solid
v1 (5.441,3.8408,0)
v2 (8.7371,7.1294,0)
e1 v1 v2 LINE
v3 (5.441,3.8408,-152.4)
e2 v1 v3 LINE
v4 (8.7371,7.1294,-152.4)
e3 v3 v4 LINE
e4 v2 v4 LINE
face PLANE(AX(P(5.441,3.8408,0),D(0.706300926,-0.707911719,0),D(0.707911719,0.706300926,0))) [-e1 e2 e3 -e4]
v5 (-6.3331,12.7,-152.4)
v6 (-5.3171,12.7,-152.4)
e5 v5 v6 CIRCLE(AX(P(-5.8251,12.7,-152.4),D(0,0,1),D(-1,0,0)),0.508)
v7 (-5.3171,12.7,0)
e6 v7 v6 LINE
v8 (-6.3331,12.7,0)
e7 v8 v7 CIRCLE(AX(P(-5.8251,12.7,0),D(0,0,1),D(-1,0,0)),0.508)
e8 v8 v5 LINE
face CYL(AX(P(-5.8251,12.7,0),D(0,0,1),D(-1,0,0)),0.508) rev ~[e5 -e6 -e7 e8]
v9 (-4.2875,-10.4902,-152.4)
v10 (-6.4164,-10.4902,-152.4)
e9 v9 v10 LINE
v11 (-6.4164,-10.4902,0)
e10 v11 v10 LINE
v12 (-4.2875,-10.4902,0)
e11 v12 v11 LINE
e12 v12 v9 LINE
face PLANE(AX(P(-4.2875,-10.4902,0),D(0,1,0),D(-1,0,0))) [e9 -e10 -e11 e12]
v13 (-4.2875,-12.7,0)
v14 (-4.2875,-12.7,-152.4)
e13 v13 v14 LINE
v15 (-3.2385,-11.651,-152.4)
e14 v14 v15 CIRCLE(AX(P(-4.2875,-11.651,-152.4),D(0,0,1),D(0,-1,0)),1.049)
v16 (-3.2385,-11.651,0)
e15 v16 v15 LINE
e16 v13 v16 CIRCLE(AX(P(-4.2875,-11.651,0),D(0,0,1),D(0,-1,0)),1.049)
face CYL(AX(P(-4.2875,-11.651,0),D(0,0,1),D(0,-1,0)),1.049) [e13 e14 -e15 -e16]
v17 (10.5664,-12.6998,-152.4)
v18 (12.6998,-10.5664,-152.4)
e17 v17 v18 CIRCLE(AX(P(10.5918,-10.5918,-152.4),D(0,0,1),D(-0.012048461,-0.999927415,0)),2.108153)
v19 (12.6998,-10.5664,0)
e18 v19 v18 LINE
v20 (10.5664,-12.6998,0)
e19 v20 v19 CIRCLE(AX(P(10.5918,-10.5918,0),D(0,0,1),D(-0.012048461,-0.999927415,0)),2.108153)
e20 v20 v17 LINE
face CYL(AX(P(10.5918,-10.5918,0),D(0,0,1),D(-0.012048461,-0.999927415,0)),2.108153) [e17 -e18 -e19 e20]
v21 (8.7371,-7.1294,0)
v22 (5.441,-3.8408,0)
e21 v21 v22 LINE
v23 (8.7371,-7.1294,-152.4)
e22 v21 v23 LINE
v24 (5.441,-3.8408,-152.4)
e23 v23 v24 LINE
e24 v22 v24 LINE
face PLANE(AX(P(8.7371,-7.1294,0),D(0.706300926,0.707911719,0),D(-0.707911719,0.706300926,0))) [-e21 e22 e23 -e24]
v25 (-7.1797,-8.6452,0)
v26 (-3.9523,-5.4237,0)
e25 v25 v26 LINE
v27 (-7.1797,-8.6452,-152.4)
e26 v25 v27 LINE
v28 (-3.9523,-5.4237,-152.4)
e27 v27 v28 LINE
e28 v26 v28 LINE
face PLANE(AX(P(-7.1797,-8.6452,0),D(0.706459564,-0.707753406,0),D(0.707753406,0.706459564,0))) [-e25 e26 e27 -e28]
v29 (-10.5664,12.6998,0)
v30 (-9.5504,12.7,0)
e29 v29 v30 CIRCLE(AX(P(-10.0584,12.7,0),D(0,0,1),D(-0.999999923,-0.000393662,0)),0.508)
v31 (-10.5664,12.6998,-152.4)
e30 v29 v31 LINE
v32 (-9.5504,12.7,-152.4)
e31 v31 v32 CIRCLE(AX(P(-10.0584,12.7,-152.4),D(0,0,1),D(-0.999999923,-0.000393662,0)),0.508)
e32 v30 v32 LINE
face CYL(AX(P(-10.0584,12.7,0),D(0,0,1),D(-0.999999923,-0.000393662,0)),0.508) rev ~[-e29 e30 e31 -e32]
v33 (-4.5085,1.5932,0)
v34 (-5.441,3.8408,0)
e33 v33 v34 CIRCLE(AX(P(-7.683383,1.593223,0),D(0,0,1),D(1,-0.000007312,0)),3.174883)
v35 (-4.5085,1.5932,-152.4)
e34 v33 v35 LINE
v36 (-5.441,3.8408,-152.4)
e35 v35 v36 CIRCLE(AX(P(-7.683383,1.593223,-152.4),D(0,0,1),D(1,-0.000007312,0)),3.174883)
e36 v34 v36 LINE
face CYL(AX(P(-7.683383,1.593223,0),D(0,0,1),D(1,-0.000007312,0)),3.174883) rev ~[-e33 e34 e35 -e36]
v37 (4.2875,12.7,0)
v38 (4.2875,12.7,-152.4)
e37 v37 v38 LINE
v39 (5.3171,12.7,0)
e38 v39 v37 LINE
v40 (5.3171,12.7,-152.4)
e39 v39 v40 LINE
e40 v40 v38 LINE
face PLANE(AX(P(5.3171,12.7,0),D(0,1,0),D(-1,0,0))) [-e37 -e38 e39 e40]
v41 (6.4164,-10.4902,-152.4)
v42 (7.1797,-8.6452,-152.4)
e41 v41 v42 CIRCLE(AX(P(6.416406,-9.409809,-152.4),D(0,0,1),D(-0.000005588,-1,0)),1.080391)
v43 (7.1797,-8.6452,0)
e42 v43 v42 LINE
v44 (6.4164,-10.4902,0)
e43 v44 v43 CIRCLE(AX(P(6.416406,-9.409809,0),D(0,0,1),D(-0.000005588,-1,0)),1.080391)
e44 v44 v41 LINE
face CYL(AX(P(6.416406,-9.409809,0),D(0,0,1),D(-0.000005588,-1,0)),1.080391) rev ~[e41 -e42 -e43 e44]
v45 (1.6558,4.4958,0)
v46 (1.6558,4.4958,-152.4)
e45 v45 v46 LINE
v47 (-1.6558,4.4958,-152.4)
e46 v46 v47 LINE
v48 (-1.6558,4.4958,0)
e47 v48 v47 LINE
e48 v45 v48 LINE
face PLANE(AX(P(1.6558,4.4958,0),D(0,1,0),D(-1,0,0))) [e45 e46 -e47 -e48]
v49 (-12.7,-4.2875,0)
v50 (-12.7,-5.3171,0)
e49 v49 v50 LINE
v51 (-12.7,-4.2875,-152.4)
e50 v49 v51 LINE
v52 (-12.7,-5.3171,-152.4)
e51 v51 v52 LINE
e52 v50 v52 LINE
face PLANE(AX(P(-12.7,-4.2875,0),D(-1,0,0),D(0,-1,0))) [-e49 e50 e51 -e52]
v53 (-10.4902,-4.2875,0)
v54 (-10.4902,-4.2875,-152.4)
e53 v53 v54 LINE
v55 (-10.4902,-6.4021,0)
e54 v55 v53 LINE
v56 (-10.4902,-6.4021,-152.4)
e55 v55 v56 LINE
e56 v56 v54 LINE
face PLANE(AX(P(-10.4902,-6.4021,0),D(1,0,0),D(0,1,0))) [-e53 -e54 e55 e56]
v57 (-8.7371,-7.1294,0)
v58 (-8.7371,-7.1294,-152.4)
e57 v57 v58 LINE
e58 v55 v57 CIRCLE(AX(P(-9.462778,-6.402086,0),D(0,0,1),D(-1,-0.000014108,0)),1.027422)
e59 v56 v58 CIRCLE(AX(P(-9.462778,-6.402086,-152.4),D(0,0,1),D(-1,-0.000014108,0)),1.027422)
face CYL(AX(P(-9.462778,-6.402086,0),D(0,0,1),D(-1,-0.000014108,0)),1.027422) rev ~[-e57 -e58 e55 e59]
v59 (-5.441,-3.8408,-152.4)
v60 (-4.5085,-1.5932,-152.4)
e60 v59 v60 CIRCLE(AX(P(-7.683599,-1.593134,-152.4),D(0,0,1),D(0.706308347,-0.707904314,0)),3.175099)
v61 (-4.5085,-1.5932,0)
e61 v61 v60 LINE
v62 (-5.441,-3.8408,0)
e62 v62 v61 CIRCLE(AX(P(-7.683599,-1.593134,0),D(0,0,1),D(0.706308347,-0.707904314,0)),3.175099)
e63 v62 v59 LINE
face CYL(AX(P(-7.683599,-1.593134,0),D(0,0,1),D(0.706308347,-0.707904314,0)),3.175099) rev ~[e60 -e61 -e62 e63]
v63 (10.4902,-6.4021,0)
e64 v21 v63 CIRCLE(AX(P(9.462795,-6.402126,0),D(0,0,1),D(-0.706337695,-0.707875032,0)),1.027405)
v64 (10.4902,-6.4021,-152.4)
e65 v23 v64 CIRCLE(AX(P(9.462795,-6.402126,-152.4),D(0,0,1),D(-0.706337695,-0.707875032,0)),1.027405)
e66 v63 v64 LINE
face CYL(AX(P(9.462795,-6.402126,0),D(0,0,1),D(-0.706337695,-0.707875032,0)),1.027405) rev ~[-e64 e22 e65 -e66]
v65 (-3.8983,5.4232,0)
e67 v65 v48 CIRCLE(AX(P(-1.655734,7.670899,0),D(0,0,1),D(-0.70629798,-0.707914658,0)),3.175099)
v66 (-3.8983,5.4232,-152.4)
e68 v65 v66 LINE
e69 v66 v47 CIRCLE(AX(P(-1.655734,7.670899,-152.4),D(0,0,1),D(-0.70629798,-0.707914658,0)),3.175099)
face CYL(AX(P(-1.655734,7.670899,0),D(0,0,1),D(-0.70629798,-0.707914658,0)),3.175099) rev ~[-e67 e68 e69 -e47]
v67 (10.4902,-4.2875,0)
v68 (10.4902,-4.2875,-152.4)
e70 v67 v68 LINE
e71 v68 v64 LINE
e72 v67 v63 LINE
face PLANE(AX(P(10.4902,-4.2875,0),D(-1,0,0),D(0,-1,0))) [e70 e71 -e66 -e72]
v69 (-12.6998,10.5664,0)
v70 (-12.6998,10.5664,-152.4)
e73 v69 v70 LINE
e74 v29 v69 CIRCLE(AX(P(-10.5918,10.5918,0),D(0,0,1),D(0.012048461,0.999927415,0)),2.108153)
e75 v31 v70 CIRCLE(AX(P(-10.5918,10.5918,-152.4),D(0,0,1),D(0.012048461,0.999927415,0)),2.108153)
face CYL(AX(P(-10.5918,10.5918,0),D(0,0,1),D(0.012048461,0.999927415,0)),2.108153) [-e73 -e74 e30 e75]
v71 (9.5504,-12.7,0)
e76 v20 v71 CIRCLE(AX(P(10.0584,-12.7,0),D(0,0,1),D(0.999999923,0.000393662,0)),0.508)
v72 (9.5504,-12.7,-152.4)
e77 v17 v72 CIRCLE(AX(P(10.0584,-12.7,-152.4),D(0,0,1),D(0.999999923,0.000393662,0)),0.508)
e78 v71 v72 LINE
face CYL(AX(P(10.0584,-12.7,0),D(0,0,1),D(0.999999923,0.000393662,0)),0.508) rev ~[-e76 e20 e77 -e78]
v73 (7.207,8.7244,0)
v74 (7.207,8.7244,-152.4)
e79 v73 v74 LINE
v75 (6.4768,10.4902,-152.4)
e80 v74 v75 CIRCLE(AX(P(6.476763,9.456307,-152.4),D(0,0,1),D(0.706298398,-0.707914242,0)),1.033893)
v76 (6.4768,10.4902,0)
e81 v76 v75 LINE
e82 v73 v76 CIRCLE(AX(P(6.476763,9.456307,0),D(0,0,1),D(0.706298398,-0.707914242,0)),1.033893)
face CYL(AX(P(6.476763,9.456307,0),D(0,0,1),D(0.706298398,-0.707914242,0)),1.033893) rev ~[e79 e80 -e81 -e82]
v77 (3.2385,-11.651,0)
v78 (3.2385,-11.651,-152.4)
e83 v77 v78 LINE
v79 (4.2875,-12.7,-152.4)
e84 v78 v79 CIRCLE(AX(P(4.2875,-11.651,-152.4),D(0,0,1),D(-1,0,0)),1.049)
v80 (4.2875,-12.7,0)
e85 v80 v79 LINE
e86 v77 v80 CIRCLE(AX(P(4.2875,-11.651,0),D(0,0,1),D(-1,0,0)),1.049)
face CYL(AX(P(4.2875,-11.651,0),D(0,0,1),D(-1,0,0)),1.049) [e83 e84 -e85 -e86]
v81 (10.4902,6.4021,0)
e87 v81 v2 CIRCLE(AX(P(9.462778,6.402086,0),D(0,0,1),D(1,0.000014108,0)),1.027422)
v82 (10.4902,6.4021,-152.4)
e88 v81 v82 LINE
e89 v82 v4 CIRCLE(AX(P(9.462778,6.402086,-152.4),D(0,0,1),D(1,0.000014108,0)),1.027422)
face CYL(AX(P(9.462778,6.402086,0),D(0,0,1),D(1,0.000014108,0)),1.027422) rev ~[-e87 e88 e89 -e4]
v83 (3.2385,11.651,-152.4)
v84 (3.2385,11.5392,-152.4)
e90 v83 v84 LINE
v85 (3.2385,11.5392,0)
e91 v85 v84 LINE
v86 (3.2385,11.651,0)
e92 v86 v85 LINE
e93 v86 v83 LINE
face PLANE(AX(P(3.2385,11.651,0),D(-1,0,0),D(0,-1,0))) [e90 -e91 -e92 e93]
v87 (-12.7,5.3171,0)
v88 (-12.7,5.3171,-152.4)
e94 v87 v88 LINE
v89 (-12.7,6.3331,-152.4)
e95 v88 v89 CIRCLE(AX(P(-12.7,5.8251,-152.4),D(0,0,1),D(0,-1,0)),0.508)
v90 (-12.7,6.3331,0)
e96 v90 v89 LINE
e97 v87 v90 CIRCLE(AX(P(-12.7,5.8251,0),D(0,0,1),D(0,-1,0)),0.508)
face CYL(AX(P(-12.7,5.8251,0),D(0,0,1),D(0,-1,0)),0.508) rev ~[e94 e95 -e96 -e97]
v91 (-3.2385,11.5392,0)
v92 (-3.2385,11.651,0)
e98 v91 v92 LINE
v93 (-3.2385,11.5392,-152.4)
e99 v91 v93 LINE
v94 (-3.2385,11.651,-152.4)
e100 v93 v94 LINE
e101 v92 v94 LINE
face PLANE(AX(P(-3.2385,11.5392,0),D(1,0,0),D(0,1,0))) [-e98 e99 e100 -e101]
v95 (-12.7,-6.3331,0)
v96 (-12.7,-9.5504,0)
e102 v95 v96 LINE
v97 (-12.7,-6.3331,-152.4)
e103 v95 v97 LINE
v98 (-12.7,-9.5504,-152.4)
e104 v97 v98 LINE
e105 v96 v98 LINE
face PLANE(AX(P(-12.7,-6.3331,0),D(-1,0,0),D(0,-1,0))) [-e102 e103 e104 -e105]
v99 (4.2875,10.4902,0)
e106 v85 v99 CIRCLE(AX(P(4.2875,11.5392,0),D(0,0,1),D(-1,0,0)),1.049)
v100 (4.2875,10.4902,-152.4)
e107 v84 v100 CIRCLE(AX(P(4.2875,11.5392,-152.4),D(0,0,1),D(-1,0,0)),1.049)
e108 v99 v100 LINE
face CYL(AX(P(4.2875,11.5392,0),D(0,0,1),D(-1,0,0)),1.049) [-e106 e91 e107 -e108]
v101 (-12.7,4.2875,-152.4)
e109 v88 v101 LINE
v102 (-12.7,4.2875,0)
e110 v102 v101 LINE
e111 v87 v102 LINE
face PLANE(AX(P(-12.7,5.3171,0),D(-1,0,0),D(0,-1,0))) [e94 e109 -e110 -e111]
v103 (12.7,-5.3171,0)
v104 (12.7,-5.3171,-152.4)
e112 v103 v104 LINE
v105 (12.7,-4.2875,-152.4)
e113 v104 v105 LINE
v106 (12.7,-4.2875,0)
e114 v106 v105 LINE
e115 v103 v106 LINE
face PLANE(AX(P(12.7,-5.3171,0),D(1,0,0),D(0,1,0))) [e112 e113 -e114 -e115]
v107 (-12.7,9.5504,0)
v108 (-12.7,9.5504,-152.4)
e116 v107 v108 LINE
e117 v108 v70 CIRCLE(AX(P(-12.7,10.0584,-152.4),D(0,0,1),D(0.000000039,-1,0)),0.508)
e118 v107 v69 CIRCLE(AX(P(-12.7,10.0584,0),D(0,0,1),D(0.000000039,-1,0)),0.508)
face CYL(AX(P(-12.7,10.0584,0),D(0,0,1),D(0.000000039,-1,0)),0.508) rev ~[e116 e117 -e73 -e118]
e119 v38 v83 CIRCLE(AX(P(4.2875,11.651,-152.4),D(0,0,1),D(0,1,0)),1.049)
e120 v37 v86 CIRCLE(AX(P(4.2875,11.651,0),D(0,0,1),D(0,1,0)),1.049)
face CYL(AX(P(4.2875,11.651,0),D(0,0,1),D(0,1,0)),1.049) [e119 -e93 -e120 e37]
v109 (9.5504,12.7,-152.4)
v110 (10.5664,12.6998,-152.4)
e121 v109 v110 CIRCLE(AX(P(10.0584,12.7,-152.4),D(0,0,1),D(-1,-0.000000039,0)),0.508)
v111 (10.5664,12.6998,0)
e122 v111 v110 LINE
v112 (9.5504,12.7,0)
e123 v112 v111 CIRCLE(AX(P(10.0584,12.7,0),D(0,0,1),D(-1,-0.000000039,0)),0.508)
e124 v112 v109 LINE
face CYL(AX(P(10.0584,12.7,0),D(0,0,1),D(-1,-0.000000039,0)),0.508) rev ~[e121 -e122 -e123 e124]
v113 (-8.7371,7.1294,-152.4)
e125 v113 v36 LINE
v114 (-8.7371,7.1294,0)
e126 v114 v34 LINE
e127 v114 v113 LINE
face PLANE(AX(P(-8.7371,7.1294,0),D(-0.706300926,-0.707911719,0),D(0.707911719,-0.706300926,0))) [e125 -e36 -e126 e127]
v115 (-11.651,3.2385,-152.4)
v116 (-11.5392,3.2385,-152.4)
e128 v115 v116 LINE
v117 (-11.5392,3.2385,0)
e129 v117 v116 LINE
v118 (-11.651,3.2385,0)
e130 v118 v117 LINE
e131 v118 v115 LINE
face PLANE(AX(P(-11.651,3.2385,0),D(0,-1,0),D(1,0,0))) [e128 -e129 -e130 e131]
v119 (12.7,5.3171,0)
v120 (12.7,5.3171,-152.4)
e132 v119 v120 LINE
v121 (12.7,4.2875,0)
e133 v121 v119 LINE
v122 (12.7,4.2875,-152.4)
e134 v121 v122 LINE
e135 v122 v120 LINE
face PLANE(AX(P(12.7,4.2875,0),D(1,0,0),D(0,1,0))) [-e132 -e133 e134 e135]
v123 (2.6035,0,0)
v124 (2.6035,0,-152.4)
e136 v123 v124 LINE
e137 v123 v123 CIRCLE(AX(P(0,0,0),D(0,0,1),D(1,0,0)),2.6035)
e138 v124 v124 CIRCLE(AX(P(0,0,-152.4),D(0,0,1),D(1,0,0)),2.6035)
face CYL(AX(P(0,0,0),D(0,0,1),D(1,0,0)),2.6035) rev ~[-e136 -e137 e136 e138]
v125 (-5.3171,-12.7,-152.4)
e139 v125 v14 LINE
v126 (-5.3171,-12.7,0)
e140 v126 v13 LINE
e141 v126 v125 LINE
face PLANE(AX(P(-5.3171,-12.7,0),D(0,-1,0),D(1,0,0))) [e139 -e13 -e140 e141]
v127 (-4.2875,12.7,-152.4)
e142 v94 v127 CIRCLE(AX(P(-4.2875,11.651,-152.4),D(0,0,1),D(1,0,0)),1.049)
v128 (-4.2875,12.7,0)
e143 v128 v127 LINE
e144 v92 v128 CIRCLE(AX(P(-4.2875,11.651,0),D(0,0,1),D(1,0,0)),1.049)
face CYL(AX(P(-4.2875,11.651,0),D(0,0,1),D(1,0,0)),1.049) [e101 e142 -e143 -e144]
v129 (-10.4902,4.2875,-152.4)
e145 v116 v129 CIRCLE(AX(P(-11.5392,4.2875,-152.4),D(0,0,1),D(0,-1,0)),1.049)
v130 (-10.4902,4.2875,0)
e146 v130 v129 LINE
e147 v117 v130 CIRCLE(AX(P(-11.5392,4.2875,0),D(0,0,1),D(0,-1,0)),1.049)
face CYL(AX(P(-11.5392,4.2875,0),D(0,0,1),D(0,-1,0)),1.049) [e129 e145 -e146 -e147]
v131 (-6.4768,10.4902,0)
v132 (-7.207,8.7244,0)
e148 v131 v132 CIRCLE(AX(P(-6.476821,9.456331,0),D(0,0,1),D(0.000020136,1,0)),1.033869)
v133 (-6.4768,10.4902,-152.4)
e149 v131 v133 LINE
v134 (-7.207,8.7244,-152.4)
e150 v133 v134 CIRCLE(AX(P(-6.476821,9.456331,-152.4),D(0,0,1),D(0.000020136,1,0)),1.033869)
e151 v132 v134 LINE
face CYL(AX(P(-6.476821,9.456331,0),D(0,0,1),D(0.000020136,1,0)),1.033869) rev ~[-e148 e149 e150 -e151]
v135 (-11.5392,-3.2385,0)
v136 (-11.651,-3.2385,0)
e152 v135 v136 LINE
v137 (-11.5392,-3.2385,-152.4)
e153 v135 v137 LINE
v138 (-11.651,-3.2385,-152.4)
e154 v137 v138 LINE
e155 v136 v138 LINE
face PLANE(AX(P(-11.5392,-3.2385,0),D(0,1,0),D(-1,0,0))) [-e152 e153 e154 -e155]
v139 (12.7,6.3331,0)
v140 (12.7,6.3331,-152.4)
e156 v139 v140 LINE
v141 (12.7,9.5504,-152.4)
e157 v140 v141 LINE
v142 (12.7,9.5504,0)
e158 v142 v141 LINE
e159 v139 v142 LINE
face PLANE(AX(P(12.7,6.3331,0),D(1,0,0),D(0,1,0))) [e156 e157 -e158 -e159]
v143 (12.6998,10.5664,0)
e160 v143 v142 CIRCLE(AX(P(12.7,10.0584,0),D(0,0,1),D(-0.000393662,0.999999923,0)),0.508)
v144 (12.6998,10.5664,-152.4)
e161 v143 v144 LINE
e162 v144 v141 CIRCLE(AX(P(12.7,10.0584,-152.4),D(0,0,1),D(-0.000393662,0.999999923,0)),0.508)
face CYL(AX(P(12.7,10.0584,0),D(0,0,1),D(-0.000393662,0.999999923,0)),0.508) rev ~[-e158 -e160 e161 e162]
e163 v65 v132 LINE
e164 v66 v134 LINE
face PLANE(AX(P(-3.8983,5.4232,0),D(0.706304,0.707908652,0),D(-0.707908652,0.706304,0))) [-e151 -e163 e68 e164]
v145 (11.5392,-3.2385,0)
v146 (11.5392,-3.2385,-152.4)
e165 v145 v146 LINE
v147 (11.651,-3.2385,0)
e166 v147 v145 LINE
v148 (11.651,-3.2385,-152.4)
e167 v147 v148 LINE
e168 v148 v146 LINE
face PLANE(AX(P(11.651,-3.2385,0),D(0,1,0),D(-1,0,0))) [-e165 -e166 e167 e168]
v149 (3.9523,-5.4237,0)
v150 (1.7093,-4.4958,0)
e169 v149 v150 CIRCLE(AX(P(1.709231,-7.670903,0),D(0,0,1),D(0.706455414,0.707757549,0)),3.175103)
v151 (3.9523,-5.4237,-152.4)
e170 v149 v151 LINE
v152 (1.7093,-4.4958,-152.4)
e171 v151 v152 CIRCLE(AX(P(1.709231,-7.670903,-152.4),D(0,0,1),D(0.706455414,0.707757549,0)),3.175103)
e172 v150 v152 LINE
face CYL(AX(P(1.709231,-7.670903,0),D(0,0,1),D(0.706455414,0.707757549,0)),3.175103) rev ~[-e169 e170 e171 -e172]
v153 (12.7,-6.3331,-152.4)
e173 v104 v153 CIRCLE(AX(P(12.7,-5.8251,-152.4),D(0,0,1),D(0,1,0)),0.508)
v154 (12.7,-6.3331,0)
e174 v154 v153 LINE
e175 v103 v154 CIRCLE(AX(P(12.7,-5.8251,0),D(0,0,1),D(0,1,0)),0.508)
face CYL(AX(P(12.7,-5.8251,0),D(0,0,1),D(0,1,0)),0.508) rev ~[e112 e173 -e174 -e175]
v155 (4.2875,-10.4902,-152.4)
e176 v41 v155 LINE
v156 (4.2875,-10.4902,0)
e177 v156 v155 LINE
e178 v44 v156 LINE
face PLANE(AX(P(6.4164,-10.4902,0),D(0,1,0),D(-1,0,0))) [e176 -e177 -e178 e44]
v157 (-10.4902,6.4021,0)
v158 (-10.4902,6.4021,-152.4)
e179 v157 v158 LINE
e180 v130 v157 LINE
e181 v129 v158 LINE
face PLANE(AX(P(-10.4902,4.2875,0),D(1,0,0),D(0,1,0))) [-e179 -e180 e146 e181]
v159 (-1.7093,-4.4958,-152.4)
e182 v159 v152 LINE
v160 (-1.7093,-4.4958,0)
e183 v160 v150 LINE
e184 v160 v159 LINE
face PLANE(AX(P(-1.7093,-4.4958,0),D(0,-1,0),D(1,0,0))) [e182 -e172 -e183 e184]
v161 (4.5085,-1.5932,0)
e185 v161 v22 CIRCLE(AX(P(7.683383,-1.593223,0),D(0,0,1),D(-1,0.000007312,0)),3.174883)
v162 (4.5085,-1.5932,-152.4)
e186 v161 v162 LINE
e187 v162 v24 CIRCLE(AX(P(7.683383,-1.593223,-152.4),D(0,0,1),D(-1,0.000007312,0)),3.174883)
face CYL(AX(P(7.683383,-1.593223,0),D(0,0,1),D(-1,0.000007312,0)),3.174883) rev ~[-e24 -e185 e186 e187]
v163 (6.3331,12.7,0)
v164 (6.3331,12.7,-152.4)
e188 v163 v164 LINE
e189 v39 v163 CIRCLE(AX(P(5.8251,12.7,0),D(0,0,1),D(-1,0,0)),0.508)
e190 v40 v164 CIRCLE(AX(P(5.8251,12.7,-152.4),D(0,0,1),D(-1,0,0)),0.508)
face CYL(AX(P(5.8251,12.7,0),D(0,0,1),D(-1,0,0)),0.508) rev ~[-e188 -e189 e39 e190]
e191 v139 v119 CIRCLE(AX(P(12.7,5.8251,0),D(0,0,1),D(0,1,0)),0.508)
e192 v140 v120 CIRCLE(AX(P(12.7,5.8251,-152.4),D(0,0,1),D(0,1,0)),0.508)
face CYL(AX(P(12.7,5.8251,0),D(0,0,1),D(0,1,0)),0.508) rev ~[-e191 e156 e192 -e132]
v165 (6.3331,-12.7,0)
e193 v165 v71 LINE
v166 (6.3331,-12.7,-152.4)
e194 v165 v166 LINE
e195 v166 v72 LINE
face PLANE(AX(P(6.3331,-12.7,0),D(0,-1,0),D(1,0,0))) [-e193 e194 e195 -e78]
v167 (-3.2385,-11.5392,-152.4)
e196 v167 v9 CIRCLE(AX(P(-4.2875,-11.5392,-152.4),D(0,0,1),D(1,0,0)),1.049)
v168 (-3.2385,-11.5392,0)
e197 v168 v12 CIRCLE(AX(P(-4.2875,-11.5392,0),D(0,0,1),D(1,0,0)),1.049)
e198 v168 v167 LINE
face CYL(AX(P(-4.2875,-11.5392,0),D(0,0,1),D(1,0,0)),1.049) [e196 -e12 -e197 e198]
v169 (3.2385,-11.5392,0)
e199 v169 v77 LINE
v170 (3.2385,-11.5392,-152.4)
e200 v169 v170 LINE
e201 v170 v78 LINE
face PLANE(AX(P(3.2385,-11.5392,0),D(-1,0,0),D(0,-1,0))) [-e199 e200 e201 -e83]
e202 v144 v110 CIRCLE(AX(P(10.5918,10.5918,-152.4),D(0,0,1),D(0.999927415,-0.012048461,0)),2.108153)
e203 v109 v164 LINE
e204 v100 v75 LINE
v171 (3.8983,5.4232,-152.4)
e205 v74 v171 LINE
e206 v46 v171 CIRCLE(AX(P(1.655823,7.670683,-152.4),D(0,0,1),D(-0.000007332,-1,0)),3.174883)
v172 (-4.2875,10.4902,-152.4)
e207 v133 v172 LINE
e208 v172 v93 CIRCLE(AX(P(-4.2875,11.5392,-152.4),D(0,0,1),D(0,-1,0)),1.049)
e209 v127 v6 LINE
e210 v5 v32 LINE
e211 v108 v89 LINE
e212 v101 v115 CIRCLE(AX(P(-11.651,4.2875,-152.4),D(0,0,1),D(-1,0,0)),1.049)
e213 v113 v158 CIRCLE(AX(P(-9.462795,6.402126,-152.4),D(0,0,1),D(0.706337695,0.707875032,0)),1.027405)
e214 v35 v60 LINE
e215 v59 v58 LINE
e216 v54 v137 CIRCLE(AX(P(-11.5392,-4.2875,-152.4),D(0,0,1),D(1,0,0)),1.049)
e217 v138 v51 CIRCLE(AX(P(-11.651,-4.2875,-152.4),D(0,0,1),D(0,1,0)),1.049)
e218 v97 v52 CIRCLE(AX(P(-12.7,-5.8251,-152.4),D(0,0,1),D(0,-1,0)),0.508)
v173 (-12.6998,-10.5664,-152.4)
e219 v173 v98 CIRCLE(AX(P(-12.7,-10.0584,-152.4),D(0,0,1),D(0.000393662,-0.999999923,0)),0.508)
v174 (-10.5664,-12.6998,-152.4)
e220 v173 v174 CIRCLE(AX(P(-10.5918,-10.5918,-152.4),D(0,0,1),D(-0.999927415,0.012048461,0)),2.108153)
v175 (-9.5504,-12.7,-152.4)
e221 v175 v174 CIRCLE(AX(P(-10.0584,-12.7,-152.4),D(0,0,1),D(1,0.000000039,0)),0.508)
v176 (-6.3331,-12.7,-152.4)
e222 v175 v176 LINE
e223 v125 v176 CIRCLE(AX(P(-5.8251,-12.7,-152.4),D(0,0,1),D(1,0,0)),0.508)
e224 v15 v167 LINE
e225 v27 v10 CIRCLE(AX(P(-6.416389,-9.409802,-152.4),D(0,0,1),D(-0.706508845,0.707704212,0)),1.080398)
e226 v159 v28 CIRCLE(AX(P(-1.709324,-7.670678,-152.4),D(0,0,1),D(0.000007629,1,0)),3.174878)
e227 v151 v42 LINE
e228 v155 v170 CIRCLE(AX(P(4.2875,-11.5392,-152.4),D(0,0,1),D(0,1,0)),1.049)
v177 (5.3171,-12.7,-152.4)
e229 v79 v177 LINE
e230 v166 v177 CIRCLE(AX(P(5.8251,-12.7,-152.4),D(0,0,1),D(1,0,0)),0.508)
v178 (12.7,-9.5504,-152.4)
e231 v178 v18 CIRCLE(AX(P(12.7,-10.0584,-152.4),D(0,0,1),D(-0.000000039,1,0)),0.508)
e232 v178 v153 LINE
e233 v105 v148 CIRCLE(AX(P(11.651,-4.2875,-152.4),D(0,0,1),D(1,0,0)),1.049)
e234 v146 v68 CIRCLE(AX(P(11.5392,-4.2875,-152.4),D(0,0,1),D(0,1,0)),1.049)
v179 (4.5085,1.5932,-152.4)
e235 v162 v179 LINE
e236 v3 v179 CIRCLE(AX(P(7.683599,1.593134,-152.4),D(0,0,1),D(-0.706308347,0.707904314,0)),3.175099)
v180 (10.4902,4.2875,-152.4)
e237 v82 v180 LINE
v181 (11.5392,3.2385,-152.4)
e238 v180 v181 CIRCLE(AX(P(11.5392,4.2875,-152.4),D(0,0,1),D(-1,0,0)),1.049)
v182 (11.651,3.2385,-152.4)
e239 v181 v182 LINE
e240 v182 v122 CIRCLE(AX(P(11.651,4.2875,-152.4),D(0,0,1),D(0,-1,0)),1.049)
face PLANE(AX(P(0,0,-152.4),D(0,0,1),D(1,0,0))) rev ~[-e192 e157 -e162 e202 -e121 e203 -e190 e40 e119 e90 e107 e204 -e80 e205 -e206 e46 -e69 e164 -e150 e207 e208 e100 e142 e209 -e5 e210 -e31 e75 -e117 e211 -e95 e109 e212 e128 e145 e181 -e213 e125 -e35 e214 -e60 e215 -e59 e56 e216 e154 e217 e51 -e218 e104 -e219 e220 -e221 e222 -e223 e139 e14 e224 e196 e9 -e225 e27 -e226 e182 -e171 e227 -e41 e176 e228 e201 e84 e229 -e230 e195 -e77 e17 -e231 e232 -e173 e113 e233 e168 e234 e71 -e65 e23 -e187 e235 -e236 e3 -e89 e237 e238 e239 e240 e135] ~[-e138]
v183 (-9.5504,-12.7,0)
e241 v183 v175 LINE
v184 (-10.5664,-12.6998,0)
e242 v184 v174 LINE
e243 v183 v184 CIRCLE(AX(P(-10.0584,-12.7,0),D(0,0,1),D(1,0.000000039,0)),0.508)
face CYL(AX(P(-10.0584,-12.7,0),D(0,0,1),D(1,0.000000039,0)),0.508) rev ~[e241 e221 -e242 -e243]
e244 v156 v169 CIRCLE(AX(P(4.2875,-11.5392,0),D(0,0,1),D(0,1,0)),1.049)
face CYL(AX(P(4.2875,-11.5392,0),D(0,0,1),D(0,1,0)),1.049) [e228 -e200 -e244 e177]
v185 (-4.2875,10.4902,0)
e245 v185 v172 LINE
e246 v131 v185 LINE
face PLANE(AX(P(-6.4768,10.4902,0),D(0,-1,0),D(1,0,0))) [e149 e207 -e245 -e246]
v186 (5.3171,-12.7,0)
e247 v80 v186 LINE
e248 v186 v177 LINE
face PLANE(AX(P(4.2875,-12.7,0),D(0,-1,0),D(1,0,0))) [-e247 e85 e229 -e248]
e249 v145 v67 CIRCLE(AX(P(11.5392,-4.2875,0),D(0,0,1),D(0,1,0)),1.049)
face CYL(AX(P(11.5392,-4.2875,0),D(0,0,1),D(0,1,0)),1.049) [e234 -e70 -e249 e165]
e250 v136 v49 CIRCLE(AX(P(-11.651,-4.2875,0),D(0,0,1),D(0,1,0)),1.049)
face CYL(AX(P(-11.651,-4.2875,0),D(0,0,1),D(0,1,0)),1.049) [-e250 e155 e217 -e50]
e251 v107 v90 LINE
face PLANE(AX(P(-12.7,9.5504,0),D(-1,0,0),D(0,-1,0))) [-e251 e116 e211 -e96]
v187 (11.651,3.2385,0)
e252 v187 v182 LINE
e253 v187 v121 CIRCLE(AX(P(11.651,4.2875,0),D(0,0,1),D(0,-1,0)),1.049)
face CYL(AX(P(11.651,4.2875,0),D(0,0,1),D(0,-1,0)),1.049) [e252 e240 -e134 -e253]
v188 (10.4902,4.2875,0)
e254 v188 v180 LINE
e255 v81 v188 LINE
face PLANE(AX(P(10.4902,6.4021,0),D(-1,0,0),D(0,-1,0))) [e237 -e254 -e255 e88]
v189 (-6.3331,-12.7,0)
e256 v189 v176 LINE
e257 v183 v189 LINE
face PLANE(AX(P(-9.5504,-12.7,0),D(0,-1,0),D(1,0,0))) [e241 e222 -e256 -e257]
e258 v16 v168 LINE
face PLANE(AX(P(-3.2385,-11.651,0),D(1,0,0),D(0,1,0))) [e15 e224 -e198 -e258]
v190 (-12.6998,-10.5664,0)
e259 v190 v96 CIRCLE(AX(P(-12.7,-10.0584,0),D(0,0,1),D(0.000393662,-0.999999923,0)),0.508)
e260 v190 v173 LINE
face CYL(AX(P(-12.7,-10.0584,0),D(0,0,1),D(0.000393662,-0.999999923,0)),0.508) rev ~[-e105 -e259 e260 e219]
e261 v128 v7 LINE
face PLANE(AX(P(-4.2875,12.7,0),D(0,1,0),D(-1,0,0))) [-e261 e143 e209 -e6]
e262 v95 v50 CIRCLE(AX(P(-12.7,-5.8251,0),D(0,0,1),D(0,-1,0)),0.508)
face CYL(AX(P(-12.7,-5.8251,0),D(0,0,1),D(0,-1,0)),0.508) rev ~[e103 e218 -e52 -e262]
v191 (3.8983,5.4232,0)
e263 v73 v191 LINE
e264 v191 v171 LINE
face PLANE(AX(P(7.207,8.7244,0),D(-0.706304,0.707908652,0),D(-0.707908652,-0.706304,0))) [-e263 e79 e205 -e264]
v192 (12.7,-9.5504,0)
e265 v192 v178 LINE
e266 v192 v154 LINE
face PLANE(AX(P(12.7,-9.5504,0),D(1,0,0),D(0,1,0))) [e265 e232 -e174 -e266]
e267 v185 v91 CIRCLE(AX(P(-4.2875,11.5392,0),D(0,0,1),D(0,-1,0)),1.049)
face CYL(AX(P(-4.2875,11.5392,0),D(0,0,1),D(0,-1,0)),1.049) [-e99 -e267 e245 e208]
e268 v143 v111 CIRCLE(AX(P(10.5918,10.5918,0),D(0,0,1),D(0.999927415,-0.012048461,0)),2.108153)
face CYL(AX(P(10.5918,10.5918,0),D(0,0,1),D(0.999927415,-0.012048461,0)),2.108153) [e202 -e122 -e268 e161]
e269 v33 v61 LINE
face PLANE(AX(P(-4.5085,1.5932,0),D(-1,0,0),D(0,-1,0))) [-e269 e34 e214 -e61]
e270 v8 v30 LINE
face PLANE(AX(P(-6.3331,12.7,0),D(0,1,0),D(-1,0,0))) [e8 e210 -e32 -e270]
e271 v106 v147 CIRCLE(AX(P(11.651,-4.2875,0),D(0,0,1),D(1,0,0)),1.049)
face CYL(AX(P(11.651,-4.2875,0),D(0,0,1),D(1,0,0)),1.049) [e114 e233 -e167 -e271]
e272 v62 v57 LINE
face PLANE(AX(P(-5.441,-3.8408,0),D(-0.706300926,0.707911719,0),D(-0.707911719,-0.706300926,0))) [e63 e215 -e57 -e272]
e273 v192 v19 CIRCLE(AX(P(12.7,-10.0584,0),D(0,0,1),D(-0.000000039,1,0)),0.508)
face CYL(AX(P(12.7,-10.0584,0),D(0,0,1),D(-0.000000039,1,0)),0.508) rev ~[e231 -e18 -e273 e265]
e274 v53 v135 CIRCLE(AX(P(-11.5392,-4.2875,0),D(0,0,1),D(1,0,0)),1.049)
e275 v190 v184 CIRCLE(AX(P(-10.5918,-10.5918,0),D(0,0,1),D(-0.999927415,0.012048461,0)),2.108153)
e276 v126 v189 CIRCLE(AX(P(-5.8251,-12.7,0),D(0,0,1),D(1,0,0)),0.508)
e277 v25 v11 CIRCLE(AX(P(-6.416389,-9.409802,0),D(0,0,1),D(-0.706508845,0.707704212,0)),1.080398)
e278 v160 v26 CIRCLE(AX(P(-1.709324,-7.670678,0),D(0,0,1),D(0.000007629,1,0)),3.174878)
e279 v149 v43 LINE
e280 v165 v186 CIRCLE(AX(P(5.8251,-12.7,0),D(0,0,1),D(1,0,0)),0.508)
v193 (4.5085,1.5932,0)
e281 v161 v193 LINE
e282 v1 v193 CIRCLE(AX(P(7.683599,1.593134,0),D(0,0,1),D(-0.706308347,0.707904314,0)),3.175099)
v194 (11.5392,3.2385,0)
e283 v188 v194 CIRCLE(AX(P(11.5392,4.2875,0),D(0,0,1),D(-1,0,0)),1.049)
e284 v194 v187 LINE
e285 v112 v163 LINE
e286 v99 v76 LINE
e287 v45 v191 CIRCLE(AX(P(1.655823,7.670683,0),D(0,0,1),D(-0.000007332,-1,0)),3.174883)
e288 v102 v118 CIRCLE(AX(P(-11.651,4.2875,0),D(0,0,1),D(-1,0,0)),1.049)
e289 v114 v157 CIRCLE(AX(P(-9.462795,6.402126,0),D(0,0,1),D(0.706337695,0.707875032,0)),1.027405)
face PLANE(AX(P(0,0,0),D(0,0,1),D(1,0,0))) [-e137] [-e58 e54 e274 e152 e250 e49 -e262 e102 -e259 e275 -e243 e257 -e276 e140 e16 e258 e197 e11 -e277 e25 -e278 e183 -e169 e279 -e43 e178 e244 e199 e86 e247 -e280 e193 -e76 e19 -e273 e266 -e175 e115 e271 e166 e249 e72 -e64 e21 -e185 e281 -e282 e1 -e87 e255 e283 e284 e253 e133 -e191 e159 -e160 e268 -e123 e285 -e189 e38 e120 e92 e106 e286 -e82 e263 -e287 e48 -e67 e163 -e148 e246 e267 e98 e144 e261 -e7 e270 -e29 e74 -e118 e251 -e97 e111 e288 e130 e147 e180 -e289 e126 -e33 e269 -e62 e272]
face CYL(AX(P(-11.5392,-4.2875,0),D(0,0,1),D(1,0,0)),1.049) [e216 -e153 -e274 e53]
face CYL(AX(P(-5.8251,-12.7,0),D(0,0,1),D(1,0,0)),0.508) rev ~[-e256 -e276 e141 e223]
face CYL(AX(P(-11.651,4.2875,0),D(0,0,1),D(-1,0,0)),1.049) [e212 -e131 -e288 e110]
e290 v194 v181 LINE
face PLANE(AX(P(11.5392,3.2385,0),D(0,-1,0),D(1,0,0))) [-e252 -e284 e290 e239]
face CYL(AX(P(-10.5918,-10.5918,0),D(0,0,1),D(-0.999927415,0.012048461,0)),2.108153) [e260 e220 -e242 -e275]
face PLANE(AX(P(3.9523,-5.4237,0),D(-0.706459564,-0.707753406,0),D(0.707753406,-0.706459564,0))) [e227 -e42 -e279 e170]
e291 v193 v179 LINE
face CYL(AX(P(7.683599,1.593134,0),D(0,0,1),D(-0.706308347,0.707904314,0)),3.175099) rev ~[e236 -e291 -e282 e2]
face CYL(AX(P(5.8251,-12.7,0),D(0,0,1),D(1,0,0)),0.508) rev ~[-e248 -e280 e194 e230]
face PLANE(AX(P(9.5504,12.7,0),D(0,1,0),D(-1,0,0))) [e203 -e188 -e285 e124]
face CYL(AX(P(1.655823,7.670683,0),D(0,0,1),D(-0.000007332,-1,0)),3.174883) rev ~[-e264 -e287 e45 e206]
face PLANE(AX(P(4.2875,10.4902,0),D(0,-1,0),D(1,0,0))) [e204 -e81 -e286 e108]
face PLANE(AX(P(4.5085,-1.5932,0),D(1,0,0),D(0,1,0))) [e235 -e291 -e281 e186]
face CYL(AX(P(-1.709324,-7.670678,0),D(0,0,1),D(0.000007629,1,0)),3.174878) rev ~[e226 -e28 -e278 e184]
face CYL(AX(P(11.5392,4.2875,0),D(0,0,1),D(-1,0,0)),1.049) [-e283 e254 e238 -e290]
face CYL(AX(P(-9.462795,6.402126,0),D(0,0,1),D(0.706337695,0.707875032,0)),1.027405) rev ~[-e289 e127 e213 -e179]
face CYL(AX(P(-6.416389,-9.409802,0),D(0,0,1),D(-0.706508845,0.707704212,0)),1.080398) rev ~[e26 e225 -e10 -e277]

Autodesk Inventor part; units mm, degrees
ref_plane "YZ Plane" through (0, 0, 0) normal (1, 0, 0) x (0, 1, 0)
ref_plane "XZ Plane" through (0, 0, 0) normal (0, 1, 0) x (-1, 0, 0)
ref_plane "XY Plane" through (0, 0, 0) normal (0, 0, 1) x (1, 0, 0)
sketch "Sketch1" plane through (0, 0, 0) normal (0, 0, 1) x (1, 0, 0)
  circle A0 centre (0, 0) radius 2.6035
  arc A1 (-1.7093, -4.4958) -> (-3.9523, -5.4237) centre (-1.7093, -7.6708) ccw
  line L0 (-1.7093, -4.4958) -> (1.7093, -4.4958)
  arc A2 (3.9523, -5.4237) -> (1.7093, -4.4958) centre (1.7093, -7.6708) ccw
  line L1 (3.9523, -5.4237) -> (7.1797, -8.6452)
  arc A3 (6.4164, -10.4902) -> (7.1797, -8.6452) centre (6.4164, -9.4098) ccw
  line L2 (6.4164, -10.4902) -> (4.2875, -10.4902)
  arc A4 (4.2875, -10.4902) -> (3.2385, -11.5392) centre (4.2875, -11.5392) ccw
  line L3 (3.2385, -11.5392) -> (3.2385, -11.651)
  arc A5 (3.2385, -11.651) -> (4.2875, -12.7) centre (4.2875, -11.651) ccw
  line L4 (4.2875, -12.7) -> (5.3171, -12.7)
  arc A6 (6.3331, -12.7) -> (5.3171, -12.7) centre (5.8251, -12.7) ccw
  line L5 (6.3331, -12.7) -> (9.5504, -12.7)
  arc A7 (10.5664, -12.6998) -> (9.5504, -12.7) centre (10.0584, -12.7) ccw
  arc A8 (10.5664, -12.6998) -> (12.6998, -10.5664) centre (10.5918, -10.5918) ccw
  arc A9 (12.7, -9.5504) -> (12.6998, -10.5664) centre (12.7, -10.0584) ccw
  line L6 (12.7, -9.5504) -> (12.7, -6.3331)
  arc A10 (12.7, -5.3171) -> (12.7, -6.3331) centre (12.7, -5.8251) ccw
  line L7 (12.7, -5.3171) -> (12.7, -4.2875)
  arc A11 (12.7, -4.2875) -> (11.651, -3.2385) centre (11.651, -4.2875) ccw
  line L8 (11.651, -3.2385) -> (11.5392, -3.2385)
  arc A12 (11.5392, -3.2385) -> (10.4902, -4.2875) centre (11.5392, -4.2875) ccw
  line L9 (10.4902, -4.2875) -> (10.4902, -6.4021)
  arc A13 (8.7371, -7.1294) -> (10.4902, -6.4021) centre (9.4628, -6.4021) ccw
  line L10 (8.7371, -7.1294) -> (5.441, -3.8408)
  arc A14 (4.5085, -1.5932) -> (5.441, -3.8408) centre (7.6835, -1.5932) ccw
  line L11 (4.5085, -1.5932) -> (4.5085, 1.5932)
  arc A15 (5.441, 3.8408) -> (4.5085, 1.5932) centre (7.6835, 1.5932) ccw
  line L12 (5.441, 3.8408) -> (8.7371, 7.1294)
  arc A16 (10.4902, 6.4021) -> (8.7371, 7.1294) centre (9.4628, 6.4021) ccw
  line L13 (10.4902, 6.4021) -> (10.4902, 4.2875)
  arc A17 (10.4902, 4.2875) -> (11.5392, 3.2385) centre (11.5392, 4.2875) ccw
  line L14 (11.5392, 3.2385) -> (11.651, 3.2385)
  arc A18 (11.651, 3.2385) -> (12.7, 4.2875) centre (11.651, 4.2875) ccw
  line L15 (12.7, 4.2875) -> (12.7, 5.3171)
  arc A19 (12.7, 6.3331) -> (12.7, 5.3171) centre (12.7, 5.8251) ccw
  line L16 (12.7, 6.3331) -> (12.7, 9.5504)
  arc A20 (12.6998, 10.5664) -> (12.7, 9.5504) centre (12.7, 10.0584) ccw
  arc A21 (12.6998, 10.5664) -> (10.5664, 12.6998) centre (10.5918, 10.5918) ccw
  arc A22 (9.5504, 12.7) -> (10.5664, 12.6998) centre (10.0584, 12.7) ccw
  line L17 (9.5504, 12.7) -> (6.3331, 12.7)
  arc A23 (5.3171, 12.7) -> (6.3331, 12.7) centre (5.8251, 12.7) ccw
  line L18 (5.3171, 12.7) -> (4.2875, 12.7)
  arc A24 (4.2875, 12.7) -> (3.2385, 11.651) centre (4.2875, 11.651) ccw
  line L19 (3.2385, 11.651) -> (3.2385, 11.5392)
  arc A25 (3.2385, 11.5392) -> (4.2875, 10.4902) centre (4.2875, 11.5392) ccw
  line L20 (4.2875, 10.4902) -> (6.4768, 10.4902)
  arc A26 (7.207, 8.7244) -> (6.4768, 10.4902) centre (6.4768, 9.4563) ccw
  line L21 (7.207, 8.7244) -> (3.8983, 5.4232)
  arc A27 (1.6558, 4.4958) -> (3.8983, 5.4232) centre (1.6558, 7.6708) ccw
  line L22 (1.6558, 4.4958) -> (-1.6558, 4.4958)
  arc A28 (-3.8983, 5.4232) -> (-1.6558, 4.4958) centre (-1.6558, 7.6708) ccw
  line L23 (-3.8983, 5.4232) -> (-7.207, 8.7244)
  arc A29 (-6.4768, 10.4902) -> (-7.207, 8.7244) centre (-6.4768, 9.4563) ccw
  line L24 (-6.4768, 10.4902) -> (-4.2875, 10.4902)
  arc A30 (-4.2875, 10.4902) -> (-3.2385, 11.5392) centre (-4.2875, 11.5392) ccw
  line L25 (-3.2385, 11.5392) -> (-3.2385, 11.651)
  arc A31 (-3.2385, 11.651) -> (-4.2875, 12.7) centre (-4.2875, 11.651) ccw
  line L26 (-4.2875, 12.7) -> (-5.3171, 12.7)
  arc A32 (-6.3331, 12.7) -> (-5.3171, 12.7) centre (-5.8251, 12.7) ccw
  line L27 (-6.3331, 12.7) -> (-9.5504, 12.7)
  arc A33 (-10.5664, 12.6998) -> (-9.5504, 12.7) centre (-10.0584, 12.7) ccw
  arc A34 (-10.5664, 12.6998) -> (-12.6998, 10.5664) centre (-10.5918, 10.5918) ccw
  arc A35 (-12.7, 9.5504) -> (-12.6998, 10.5664) centre (-12.7, 10.0584) ccw
  line L28 (-12.7, 9.5504) -> (-12.7, 6.3331)
  arc A36 (-12.7, 5.3171) -> (-12.7, 6.3331) centre (-12.7, 5.8251) ccw
  line L29 (-12.7, 5.3171) -> (-12.7, 4.2875)
  arc A37 (-12.7, 4.2875) -> (-11.651, 3.2385) centre (-11.651, 4.2875) ccw
  line L30 (-11.651, 3.2385) -> (-11.5392, 3.2385)
  arc A38 (-11.5392, 3.2385) -> (-10.4902, 4.2875) centre (-11.5392, 4.2875) ccw
  line L31 (-10.4902, 4.2875) -> (-10.4902, 6.4021)
  arc A39 (-8.7371, 7.1294) -> (-10.4902, 6.4021) centre (-9.4628, 6.4021) ccw
  line L32 (-8.7371, 7.1294) -> (-5.441, 3.8408)
  arc A40 (-4.5085, 1.5932) -> (-5.441, 3.8408) centre (-7.6835, 1.5932) ccw
  line L33 (-4.5085, 1.5932) -> (-4.5085, -1.5932)
  arc A41 (-5.441, -3.8408) -> (-4.5085, -1.5932) centre (-7.6835, -1.5932) ccw
  line L34 (-5.441, -3.8408) -> (-8.7371, -7.1294)
  arc A42 (-10.4902, -6.4021) -> (-8.7371, -7.1294) centre (-9.4628, -6.4021) ccw
  line L35 (-10.4902, -6.4021) -> (-10.4902, -4.2875)
  arc A43 (-10.4902, -4.2875) -> (-11.5392, -3.2385) centre (-11.5392, -4.2875) ccw
  line L36 (-11.5392, -3.2385) -> (-11.651, -3.2385)
  arc A44 (-11.651, -3.2385) -> (-12.7, -4.2875) centre (-11.651, -4.2875) ccw
  line L37 (-12.7, -4.2875) -> (-12.7, -5.3171)
  arc A45 (-12.7, -6.3331) -> (-12.7, -5.3171) centre (-12.7, -5.8251) ccw
  line L38 (-12.7, -6.3331) -> (-12.7, -9.5504)
  arc A46 (-12.6998, -10.5664) -> (-12.7, -9.5504) centre (-12.7, -10.0584) ccw
  arc A47 (-12.6998, -10.5664) -> (-10.5664, -12.6998) centre (-10.5918, -10.5918) ccw
  arc A48 (-9.5504, -12.7) -> (-10.5664, -12.6998) centre (-10.0584, -12.7) ccw
  line L39 (-9.5504, -12.7) -> (-6.3331, -12.7)
  arc A49 (-5.3171, -12.7) -> (-6.3331, -12.7) centre (-5.8251, -12.7) ccw
  line L40 (-5.3171, -12.7) -> (-4.2875, -12.7)
  arc A50 (-4.2875, -12.7) -> (-3.2385, -11.651) centre (-4.2875, -11.651) ccw
  line L41 (-3.2385, -11.651) -> (-3.2385, -11.5392)
  arc A51 (-3.2385, -11.5392) -> (-4.2875, -10.4902) centre (-4.2875, -11.5392) ccw
  line L42 (-4.2875, -10.4902) -> (-6.4164, -10.4902)
  arc A52 (-7.1797, -8.6452) -> (-6.4164, -10.4902) centre (-6.4164, -9.4098) ccw
  line L43 (-7.1797, -8.6452) -> (-3.9523, -5.4237)
extrude "Extrusion1" add sketch "Sketch1" against normal blind 152.4
sketch "Sketch2" plane through (0, 0, 0) normal (1, 0, 0) x (0, 1, 0)
  point P0 (0, 0)
properties part number "1010"
